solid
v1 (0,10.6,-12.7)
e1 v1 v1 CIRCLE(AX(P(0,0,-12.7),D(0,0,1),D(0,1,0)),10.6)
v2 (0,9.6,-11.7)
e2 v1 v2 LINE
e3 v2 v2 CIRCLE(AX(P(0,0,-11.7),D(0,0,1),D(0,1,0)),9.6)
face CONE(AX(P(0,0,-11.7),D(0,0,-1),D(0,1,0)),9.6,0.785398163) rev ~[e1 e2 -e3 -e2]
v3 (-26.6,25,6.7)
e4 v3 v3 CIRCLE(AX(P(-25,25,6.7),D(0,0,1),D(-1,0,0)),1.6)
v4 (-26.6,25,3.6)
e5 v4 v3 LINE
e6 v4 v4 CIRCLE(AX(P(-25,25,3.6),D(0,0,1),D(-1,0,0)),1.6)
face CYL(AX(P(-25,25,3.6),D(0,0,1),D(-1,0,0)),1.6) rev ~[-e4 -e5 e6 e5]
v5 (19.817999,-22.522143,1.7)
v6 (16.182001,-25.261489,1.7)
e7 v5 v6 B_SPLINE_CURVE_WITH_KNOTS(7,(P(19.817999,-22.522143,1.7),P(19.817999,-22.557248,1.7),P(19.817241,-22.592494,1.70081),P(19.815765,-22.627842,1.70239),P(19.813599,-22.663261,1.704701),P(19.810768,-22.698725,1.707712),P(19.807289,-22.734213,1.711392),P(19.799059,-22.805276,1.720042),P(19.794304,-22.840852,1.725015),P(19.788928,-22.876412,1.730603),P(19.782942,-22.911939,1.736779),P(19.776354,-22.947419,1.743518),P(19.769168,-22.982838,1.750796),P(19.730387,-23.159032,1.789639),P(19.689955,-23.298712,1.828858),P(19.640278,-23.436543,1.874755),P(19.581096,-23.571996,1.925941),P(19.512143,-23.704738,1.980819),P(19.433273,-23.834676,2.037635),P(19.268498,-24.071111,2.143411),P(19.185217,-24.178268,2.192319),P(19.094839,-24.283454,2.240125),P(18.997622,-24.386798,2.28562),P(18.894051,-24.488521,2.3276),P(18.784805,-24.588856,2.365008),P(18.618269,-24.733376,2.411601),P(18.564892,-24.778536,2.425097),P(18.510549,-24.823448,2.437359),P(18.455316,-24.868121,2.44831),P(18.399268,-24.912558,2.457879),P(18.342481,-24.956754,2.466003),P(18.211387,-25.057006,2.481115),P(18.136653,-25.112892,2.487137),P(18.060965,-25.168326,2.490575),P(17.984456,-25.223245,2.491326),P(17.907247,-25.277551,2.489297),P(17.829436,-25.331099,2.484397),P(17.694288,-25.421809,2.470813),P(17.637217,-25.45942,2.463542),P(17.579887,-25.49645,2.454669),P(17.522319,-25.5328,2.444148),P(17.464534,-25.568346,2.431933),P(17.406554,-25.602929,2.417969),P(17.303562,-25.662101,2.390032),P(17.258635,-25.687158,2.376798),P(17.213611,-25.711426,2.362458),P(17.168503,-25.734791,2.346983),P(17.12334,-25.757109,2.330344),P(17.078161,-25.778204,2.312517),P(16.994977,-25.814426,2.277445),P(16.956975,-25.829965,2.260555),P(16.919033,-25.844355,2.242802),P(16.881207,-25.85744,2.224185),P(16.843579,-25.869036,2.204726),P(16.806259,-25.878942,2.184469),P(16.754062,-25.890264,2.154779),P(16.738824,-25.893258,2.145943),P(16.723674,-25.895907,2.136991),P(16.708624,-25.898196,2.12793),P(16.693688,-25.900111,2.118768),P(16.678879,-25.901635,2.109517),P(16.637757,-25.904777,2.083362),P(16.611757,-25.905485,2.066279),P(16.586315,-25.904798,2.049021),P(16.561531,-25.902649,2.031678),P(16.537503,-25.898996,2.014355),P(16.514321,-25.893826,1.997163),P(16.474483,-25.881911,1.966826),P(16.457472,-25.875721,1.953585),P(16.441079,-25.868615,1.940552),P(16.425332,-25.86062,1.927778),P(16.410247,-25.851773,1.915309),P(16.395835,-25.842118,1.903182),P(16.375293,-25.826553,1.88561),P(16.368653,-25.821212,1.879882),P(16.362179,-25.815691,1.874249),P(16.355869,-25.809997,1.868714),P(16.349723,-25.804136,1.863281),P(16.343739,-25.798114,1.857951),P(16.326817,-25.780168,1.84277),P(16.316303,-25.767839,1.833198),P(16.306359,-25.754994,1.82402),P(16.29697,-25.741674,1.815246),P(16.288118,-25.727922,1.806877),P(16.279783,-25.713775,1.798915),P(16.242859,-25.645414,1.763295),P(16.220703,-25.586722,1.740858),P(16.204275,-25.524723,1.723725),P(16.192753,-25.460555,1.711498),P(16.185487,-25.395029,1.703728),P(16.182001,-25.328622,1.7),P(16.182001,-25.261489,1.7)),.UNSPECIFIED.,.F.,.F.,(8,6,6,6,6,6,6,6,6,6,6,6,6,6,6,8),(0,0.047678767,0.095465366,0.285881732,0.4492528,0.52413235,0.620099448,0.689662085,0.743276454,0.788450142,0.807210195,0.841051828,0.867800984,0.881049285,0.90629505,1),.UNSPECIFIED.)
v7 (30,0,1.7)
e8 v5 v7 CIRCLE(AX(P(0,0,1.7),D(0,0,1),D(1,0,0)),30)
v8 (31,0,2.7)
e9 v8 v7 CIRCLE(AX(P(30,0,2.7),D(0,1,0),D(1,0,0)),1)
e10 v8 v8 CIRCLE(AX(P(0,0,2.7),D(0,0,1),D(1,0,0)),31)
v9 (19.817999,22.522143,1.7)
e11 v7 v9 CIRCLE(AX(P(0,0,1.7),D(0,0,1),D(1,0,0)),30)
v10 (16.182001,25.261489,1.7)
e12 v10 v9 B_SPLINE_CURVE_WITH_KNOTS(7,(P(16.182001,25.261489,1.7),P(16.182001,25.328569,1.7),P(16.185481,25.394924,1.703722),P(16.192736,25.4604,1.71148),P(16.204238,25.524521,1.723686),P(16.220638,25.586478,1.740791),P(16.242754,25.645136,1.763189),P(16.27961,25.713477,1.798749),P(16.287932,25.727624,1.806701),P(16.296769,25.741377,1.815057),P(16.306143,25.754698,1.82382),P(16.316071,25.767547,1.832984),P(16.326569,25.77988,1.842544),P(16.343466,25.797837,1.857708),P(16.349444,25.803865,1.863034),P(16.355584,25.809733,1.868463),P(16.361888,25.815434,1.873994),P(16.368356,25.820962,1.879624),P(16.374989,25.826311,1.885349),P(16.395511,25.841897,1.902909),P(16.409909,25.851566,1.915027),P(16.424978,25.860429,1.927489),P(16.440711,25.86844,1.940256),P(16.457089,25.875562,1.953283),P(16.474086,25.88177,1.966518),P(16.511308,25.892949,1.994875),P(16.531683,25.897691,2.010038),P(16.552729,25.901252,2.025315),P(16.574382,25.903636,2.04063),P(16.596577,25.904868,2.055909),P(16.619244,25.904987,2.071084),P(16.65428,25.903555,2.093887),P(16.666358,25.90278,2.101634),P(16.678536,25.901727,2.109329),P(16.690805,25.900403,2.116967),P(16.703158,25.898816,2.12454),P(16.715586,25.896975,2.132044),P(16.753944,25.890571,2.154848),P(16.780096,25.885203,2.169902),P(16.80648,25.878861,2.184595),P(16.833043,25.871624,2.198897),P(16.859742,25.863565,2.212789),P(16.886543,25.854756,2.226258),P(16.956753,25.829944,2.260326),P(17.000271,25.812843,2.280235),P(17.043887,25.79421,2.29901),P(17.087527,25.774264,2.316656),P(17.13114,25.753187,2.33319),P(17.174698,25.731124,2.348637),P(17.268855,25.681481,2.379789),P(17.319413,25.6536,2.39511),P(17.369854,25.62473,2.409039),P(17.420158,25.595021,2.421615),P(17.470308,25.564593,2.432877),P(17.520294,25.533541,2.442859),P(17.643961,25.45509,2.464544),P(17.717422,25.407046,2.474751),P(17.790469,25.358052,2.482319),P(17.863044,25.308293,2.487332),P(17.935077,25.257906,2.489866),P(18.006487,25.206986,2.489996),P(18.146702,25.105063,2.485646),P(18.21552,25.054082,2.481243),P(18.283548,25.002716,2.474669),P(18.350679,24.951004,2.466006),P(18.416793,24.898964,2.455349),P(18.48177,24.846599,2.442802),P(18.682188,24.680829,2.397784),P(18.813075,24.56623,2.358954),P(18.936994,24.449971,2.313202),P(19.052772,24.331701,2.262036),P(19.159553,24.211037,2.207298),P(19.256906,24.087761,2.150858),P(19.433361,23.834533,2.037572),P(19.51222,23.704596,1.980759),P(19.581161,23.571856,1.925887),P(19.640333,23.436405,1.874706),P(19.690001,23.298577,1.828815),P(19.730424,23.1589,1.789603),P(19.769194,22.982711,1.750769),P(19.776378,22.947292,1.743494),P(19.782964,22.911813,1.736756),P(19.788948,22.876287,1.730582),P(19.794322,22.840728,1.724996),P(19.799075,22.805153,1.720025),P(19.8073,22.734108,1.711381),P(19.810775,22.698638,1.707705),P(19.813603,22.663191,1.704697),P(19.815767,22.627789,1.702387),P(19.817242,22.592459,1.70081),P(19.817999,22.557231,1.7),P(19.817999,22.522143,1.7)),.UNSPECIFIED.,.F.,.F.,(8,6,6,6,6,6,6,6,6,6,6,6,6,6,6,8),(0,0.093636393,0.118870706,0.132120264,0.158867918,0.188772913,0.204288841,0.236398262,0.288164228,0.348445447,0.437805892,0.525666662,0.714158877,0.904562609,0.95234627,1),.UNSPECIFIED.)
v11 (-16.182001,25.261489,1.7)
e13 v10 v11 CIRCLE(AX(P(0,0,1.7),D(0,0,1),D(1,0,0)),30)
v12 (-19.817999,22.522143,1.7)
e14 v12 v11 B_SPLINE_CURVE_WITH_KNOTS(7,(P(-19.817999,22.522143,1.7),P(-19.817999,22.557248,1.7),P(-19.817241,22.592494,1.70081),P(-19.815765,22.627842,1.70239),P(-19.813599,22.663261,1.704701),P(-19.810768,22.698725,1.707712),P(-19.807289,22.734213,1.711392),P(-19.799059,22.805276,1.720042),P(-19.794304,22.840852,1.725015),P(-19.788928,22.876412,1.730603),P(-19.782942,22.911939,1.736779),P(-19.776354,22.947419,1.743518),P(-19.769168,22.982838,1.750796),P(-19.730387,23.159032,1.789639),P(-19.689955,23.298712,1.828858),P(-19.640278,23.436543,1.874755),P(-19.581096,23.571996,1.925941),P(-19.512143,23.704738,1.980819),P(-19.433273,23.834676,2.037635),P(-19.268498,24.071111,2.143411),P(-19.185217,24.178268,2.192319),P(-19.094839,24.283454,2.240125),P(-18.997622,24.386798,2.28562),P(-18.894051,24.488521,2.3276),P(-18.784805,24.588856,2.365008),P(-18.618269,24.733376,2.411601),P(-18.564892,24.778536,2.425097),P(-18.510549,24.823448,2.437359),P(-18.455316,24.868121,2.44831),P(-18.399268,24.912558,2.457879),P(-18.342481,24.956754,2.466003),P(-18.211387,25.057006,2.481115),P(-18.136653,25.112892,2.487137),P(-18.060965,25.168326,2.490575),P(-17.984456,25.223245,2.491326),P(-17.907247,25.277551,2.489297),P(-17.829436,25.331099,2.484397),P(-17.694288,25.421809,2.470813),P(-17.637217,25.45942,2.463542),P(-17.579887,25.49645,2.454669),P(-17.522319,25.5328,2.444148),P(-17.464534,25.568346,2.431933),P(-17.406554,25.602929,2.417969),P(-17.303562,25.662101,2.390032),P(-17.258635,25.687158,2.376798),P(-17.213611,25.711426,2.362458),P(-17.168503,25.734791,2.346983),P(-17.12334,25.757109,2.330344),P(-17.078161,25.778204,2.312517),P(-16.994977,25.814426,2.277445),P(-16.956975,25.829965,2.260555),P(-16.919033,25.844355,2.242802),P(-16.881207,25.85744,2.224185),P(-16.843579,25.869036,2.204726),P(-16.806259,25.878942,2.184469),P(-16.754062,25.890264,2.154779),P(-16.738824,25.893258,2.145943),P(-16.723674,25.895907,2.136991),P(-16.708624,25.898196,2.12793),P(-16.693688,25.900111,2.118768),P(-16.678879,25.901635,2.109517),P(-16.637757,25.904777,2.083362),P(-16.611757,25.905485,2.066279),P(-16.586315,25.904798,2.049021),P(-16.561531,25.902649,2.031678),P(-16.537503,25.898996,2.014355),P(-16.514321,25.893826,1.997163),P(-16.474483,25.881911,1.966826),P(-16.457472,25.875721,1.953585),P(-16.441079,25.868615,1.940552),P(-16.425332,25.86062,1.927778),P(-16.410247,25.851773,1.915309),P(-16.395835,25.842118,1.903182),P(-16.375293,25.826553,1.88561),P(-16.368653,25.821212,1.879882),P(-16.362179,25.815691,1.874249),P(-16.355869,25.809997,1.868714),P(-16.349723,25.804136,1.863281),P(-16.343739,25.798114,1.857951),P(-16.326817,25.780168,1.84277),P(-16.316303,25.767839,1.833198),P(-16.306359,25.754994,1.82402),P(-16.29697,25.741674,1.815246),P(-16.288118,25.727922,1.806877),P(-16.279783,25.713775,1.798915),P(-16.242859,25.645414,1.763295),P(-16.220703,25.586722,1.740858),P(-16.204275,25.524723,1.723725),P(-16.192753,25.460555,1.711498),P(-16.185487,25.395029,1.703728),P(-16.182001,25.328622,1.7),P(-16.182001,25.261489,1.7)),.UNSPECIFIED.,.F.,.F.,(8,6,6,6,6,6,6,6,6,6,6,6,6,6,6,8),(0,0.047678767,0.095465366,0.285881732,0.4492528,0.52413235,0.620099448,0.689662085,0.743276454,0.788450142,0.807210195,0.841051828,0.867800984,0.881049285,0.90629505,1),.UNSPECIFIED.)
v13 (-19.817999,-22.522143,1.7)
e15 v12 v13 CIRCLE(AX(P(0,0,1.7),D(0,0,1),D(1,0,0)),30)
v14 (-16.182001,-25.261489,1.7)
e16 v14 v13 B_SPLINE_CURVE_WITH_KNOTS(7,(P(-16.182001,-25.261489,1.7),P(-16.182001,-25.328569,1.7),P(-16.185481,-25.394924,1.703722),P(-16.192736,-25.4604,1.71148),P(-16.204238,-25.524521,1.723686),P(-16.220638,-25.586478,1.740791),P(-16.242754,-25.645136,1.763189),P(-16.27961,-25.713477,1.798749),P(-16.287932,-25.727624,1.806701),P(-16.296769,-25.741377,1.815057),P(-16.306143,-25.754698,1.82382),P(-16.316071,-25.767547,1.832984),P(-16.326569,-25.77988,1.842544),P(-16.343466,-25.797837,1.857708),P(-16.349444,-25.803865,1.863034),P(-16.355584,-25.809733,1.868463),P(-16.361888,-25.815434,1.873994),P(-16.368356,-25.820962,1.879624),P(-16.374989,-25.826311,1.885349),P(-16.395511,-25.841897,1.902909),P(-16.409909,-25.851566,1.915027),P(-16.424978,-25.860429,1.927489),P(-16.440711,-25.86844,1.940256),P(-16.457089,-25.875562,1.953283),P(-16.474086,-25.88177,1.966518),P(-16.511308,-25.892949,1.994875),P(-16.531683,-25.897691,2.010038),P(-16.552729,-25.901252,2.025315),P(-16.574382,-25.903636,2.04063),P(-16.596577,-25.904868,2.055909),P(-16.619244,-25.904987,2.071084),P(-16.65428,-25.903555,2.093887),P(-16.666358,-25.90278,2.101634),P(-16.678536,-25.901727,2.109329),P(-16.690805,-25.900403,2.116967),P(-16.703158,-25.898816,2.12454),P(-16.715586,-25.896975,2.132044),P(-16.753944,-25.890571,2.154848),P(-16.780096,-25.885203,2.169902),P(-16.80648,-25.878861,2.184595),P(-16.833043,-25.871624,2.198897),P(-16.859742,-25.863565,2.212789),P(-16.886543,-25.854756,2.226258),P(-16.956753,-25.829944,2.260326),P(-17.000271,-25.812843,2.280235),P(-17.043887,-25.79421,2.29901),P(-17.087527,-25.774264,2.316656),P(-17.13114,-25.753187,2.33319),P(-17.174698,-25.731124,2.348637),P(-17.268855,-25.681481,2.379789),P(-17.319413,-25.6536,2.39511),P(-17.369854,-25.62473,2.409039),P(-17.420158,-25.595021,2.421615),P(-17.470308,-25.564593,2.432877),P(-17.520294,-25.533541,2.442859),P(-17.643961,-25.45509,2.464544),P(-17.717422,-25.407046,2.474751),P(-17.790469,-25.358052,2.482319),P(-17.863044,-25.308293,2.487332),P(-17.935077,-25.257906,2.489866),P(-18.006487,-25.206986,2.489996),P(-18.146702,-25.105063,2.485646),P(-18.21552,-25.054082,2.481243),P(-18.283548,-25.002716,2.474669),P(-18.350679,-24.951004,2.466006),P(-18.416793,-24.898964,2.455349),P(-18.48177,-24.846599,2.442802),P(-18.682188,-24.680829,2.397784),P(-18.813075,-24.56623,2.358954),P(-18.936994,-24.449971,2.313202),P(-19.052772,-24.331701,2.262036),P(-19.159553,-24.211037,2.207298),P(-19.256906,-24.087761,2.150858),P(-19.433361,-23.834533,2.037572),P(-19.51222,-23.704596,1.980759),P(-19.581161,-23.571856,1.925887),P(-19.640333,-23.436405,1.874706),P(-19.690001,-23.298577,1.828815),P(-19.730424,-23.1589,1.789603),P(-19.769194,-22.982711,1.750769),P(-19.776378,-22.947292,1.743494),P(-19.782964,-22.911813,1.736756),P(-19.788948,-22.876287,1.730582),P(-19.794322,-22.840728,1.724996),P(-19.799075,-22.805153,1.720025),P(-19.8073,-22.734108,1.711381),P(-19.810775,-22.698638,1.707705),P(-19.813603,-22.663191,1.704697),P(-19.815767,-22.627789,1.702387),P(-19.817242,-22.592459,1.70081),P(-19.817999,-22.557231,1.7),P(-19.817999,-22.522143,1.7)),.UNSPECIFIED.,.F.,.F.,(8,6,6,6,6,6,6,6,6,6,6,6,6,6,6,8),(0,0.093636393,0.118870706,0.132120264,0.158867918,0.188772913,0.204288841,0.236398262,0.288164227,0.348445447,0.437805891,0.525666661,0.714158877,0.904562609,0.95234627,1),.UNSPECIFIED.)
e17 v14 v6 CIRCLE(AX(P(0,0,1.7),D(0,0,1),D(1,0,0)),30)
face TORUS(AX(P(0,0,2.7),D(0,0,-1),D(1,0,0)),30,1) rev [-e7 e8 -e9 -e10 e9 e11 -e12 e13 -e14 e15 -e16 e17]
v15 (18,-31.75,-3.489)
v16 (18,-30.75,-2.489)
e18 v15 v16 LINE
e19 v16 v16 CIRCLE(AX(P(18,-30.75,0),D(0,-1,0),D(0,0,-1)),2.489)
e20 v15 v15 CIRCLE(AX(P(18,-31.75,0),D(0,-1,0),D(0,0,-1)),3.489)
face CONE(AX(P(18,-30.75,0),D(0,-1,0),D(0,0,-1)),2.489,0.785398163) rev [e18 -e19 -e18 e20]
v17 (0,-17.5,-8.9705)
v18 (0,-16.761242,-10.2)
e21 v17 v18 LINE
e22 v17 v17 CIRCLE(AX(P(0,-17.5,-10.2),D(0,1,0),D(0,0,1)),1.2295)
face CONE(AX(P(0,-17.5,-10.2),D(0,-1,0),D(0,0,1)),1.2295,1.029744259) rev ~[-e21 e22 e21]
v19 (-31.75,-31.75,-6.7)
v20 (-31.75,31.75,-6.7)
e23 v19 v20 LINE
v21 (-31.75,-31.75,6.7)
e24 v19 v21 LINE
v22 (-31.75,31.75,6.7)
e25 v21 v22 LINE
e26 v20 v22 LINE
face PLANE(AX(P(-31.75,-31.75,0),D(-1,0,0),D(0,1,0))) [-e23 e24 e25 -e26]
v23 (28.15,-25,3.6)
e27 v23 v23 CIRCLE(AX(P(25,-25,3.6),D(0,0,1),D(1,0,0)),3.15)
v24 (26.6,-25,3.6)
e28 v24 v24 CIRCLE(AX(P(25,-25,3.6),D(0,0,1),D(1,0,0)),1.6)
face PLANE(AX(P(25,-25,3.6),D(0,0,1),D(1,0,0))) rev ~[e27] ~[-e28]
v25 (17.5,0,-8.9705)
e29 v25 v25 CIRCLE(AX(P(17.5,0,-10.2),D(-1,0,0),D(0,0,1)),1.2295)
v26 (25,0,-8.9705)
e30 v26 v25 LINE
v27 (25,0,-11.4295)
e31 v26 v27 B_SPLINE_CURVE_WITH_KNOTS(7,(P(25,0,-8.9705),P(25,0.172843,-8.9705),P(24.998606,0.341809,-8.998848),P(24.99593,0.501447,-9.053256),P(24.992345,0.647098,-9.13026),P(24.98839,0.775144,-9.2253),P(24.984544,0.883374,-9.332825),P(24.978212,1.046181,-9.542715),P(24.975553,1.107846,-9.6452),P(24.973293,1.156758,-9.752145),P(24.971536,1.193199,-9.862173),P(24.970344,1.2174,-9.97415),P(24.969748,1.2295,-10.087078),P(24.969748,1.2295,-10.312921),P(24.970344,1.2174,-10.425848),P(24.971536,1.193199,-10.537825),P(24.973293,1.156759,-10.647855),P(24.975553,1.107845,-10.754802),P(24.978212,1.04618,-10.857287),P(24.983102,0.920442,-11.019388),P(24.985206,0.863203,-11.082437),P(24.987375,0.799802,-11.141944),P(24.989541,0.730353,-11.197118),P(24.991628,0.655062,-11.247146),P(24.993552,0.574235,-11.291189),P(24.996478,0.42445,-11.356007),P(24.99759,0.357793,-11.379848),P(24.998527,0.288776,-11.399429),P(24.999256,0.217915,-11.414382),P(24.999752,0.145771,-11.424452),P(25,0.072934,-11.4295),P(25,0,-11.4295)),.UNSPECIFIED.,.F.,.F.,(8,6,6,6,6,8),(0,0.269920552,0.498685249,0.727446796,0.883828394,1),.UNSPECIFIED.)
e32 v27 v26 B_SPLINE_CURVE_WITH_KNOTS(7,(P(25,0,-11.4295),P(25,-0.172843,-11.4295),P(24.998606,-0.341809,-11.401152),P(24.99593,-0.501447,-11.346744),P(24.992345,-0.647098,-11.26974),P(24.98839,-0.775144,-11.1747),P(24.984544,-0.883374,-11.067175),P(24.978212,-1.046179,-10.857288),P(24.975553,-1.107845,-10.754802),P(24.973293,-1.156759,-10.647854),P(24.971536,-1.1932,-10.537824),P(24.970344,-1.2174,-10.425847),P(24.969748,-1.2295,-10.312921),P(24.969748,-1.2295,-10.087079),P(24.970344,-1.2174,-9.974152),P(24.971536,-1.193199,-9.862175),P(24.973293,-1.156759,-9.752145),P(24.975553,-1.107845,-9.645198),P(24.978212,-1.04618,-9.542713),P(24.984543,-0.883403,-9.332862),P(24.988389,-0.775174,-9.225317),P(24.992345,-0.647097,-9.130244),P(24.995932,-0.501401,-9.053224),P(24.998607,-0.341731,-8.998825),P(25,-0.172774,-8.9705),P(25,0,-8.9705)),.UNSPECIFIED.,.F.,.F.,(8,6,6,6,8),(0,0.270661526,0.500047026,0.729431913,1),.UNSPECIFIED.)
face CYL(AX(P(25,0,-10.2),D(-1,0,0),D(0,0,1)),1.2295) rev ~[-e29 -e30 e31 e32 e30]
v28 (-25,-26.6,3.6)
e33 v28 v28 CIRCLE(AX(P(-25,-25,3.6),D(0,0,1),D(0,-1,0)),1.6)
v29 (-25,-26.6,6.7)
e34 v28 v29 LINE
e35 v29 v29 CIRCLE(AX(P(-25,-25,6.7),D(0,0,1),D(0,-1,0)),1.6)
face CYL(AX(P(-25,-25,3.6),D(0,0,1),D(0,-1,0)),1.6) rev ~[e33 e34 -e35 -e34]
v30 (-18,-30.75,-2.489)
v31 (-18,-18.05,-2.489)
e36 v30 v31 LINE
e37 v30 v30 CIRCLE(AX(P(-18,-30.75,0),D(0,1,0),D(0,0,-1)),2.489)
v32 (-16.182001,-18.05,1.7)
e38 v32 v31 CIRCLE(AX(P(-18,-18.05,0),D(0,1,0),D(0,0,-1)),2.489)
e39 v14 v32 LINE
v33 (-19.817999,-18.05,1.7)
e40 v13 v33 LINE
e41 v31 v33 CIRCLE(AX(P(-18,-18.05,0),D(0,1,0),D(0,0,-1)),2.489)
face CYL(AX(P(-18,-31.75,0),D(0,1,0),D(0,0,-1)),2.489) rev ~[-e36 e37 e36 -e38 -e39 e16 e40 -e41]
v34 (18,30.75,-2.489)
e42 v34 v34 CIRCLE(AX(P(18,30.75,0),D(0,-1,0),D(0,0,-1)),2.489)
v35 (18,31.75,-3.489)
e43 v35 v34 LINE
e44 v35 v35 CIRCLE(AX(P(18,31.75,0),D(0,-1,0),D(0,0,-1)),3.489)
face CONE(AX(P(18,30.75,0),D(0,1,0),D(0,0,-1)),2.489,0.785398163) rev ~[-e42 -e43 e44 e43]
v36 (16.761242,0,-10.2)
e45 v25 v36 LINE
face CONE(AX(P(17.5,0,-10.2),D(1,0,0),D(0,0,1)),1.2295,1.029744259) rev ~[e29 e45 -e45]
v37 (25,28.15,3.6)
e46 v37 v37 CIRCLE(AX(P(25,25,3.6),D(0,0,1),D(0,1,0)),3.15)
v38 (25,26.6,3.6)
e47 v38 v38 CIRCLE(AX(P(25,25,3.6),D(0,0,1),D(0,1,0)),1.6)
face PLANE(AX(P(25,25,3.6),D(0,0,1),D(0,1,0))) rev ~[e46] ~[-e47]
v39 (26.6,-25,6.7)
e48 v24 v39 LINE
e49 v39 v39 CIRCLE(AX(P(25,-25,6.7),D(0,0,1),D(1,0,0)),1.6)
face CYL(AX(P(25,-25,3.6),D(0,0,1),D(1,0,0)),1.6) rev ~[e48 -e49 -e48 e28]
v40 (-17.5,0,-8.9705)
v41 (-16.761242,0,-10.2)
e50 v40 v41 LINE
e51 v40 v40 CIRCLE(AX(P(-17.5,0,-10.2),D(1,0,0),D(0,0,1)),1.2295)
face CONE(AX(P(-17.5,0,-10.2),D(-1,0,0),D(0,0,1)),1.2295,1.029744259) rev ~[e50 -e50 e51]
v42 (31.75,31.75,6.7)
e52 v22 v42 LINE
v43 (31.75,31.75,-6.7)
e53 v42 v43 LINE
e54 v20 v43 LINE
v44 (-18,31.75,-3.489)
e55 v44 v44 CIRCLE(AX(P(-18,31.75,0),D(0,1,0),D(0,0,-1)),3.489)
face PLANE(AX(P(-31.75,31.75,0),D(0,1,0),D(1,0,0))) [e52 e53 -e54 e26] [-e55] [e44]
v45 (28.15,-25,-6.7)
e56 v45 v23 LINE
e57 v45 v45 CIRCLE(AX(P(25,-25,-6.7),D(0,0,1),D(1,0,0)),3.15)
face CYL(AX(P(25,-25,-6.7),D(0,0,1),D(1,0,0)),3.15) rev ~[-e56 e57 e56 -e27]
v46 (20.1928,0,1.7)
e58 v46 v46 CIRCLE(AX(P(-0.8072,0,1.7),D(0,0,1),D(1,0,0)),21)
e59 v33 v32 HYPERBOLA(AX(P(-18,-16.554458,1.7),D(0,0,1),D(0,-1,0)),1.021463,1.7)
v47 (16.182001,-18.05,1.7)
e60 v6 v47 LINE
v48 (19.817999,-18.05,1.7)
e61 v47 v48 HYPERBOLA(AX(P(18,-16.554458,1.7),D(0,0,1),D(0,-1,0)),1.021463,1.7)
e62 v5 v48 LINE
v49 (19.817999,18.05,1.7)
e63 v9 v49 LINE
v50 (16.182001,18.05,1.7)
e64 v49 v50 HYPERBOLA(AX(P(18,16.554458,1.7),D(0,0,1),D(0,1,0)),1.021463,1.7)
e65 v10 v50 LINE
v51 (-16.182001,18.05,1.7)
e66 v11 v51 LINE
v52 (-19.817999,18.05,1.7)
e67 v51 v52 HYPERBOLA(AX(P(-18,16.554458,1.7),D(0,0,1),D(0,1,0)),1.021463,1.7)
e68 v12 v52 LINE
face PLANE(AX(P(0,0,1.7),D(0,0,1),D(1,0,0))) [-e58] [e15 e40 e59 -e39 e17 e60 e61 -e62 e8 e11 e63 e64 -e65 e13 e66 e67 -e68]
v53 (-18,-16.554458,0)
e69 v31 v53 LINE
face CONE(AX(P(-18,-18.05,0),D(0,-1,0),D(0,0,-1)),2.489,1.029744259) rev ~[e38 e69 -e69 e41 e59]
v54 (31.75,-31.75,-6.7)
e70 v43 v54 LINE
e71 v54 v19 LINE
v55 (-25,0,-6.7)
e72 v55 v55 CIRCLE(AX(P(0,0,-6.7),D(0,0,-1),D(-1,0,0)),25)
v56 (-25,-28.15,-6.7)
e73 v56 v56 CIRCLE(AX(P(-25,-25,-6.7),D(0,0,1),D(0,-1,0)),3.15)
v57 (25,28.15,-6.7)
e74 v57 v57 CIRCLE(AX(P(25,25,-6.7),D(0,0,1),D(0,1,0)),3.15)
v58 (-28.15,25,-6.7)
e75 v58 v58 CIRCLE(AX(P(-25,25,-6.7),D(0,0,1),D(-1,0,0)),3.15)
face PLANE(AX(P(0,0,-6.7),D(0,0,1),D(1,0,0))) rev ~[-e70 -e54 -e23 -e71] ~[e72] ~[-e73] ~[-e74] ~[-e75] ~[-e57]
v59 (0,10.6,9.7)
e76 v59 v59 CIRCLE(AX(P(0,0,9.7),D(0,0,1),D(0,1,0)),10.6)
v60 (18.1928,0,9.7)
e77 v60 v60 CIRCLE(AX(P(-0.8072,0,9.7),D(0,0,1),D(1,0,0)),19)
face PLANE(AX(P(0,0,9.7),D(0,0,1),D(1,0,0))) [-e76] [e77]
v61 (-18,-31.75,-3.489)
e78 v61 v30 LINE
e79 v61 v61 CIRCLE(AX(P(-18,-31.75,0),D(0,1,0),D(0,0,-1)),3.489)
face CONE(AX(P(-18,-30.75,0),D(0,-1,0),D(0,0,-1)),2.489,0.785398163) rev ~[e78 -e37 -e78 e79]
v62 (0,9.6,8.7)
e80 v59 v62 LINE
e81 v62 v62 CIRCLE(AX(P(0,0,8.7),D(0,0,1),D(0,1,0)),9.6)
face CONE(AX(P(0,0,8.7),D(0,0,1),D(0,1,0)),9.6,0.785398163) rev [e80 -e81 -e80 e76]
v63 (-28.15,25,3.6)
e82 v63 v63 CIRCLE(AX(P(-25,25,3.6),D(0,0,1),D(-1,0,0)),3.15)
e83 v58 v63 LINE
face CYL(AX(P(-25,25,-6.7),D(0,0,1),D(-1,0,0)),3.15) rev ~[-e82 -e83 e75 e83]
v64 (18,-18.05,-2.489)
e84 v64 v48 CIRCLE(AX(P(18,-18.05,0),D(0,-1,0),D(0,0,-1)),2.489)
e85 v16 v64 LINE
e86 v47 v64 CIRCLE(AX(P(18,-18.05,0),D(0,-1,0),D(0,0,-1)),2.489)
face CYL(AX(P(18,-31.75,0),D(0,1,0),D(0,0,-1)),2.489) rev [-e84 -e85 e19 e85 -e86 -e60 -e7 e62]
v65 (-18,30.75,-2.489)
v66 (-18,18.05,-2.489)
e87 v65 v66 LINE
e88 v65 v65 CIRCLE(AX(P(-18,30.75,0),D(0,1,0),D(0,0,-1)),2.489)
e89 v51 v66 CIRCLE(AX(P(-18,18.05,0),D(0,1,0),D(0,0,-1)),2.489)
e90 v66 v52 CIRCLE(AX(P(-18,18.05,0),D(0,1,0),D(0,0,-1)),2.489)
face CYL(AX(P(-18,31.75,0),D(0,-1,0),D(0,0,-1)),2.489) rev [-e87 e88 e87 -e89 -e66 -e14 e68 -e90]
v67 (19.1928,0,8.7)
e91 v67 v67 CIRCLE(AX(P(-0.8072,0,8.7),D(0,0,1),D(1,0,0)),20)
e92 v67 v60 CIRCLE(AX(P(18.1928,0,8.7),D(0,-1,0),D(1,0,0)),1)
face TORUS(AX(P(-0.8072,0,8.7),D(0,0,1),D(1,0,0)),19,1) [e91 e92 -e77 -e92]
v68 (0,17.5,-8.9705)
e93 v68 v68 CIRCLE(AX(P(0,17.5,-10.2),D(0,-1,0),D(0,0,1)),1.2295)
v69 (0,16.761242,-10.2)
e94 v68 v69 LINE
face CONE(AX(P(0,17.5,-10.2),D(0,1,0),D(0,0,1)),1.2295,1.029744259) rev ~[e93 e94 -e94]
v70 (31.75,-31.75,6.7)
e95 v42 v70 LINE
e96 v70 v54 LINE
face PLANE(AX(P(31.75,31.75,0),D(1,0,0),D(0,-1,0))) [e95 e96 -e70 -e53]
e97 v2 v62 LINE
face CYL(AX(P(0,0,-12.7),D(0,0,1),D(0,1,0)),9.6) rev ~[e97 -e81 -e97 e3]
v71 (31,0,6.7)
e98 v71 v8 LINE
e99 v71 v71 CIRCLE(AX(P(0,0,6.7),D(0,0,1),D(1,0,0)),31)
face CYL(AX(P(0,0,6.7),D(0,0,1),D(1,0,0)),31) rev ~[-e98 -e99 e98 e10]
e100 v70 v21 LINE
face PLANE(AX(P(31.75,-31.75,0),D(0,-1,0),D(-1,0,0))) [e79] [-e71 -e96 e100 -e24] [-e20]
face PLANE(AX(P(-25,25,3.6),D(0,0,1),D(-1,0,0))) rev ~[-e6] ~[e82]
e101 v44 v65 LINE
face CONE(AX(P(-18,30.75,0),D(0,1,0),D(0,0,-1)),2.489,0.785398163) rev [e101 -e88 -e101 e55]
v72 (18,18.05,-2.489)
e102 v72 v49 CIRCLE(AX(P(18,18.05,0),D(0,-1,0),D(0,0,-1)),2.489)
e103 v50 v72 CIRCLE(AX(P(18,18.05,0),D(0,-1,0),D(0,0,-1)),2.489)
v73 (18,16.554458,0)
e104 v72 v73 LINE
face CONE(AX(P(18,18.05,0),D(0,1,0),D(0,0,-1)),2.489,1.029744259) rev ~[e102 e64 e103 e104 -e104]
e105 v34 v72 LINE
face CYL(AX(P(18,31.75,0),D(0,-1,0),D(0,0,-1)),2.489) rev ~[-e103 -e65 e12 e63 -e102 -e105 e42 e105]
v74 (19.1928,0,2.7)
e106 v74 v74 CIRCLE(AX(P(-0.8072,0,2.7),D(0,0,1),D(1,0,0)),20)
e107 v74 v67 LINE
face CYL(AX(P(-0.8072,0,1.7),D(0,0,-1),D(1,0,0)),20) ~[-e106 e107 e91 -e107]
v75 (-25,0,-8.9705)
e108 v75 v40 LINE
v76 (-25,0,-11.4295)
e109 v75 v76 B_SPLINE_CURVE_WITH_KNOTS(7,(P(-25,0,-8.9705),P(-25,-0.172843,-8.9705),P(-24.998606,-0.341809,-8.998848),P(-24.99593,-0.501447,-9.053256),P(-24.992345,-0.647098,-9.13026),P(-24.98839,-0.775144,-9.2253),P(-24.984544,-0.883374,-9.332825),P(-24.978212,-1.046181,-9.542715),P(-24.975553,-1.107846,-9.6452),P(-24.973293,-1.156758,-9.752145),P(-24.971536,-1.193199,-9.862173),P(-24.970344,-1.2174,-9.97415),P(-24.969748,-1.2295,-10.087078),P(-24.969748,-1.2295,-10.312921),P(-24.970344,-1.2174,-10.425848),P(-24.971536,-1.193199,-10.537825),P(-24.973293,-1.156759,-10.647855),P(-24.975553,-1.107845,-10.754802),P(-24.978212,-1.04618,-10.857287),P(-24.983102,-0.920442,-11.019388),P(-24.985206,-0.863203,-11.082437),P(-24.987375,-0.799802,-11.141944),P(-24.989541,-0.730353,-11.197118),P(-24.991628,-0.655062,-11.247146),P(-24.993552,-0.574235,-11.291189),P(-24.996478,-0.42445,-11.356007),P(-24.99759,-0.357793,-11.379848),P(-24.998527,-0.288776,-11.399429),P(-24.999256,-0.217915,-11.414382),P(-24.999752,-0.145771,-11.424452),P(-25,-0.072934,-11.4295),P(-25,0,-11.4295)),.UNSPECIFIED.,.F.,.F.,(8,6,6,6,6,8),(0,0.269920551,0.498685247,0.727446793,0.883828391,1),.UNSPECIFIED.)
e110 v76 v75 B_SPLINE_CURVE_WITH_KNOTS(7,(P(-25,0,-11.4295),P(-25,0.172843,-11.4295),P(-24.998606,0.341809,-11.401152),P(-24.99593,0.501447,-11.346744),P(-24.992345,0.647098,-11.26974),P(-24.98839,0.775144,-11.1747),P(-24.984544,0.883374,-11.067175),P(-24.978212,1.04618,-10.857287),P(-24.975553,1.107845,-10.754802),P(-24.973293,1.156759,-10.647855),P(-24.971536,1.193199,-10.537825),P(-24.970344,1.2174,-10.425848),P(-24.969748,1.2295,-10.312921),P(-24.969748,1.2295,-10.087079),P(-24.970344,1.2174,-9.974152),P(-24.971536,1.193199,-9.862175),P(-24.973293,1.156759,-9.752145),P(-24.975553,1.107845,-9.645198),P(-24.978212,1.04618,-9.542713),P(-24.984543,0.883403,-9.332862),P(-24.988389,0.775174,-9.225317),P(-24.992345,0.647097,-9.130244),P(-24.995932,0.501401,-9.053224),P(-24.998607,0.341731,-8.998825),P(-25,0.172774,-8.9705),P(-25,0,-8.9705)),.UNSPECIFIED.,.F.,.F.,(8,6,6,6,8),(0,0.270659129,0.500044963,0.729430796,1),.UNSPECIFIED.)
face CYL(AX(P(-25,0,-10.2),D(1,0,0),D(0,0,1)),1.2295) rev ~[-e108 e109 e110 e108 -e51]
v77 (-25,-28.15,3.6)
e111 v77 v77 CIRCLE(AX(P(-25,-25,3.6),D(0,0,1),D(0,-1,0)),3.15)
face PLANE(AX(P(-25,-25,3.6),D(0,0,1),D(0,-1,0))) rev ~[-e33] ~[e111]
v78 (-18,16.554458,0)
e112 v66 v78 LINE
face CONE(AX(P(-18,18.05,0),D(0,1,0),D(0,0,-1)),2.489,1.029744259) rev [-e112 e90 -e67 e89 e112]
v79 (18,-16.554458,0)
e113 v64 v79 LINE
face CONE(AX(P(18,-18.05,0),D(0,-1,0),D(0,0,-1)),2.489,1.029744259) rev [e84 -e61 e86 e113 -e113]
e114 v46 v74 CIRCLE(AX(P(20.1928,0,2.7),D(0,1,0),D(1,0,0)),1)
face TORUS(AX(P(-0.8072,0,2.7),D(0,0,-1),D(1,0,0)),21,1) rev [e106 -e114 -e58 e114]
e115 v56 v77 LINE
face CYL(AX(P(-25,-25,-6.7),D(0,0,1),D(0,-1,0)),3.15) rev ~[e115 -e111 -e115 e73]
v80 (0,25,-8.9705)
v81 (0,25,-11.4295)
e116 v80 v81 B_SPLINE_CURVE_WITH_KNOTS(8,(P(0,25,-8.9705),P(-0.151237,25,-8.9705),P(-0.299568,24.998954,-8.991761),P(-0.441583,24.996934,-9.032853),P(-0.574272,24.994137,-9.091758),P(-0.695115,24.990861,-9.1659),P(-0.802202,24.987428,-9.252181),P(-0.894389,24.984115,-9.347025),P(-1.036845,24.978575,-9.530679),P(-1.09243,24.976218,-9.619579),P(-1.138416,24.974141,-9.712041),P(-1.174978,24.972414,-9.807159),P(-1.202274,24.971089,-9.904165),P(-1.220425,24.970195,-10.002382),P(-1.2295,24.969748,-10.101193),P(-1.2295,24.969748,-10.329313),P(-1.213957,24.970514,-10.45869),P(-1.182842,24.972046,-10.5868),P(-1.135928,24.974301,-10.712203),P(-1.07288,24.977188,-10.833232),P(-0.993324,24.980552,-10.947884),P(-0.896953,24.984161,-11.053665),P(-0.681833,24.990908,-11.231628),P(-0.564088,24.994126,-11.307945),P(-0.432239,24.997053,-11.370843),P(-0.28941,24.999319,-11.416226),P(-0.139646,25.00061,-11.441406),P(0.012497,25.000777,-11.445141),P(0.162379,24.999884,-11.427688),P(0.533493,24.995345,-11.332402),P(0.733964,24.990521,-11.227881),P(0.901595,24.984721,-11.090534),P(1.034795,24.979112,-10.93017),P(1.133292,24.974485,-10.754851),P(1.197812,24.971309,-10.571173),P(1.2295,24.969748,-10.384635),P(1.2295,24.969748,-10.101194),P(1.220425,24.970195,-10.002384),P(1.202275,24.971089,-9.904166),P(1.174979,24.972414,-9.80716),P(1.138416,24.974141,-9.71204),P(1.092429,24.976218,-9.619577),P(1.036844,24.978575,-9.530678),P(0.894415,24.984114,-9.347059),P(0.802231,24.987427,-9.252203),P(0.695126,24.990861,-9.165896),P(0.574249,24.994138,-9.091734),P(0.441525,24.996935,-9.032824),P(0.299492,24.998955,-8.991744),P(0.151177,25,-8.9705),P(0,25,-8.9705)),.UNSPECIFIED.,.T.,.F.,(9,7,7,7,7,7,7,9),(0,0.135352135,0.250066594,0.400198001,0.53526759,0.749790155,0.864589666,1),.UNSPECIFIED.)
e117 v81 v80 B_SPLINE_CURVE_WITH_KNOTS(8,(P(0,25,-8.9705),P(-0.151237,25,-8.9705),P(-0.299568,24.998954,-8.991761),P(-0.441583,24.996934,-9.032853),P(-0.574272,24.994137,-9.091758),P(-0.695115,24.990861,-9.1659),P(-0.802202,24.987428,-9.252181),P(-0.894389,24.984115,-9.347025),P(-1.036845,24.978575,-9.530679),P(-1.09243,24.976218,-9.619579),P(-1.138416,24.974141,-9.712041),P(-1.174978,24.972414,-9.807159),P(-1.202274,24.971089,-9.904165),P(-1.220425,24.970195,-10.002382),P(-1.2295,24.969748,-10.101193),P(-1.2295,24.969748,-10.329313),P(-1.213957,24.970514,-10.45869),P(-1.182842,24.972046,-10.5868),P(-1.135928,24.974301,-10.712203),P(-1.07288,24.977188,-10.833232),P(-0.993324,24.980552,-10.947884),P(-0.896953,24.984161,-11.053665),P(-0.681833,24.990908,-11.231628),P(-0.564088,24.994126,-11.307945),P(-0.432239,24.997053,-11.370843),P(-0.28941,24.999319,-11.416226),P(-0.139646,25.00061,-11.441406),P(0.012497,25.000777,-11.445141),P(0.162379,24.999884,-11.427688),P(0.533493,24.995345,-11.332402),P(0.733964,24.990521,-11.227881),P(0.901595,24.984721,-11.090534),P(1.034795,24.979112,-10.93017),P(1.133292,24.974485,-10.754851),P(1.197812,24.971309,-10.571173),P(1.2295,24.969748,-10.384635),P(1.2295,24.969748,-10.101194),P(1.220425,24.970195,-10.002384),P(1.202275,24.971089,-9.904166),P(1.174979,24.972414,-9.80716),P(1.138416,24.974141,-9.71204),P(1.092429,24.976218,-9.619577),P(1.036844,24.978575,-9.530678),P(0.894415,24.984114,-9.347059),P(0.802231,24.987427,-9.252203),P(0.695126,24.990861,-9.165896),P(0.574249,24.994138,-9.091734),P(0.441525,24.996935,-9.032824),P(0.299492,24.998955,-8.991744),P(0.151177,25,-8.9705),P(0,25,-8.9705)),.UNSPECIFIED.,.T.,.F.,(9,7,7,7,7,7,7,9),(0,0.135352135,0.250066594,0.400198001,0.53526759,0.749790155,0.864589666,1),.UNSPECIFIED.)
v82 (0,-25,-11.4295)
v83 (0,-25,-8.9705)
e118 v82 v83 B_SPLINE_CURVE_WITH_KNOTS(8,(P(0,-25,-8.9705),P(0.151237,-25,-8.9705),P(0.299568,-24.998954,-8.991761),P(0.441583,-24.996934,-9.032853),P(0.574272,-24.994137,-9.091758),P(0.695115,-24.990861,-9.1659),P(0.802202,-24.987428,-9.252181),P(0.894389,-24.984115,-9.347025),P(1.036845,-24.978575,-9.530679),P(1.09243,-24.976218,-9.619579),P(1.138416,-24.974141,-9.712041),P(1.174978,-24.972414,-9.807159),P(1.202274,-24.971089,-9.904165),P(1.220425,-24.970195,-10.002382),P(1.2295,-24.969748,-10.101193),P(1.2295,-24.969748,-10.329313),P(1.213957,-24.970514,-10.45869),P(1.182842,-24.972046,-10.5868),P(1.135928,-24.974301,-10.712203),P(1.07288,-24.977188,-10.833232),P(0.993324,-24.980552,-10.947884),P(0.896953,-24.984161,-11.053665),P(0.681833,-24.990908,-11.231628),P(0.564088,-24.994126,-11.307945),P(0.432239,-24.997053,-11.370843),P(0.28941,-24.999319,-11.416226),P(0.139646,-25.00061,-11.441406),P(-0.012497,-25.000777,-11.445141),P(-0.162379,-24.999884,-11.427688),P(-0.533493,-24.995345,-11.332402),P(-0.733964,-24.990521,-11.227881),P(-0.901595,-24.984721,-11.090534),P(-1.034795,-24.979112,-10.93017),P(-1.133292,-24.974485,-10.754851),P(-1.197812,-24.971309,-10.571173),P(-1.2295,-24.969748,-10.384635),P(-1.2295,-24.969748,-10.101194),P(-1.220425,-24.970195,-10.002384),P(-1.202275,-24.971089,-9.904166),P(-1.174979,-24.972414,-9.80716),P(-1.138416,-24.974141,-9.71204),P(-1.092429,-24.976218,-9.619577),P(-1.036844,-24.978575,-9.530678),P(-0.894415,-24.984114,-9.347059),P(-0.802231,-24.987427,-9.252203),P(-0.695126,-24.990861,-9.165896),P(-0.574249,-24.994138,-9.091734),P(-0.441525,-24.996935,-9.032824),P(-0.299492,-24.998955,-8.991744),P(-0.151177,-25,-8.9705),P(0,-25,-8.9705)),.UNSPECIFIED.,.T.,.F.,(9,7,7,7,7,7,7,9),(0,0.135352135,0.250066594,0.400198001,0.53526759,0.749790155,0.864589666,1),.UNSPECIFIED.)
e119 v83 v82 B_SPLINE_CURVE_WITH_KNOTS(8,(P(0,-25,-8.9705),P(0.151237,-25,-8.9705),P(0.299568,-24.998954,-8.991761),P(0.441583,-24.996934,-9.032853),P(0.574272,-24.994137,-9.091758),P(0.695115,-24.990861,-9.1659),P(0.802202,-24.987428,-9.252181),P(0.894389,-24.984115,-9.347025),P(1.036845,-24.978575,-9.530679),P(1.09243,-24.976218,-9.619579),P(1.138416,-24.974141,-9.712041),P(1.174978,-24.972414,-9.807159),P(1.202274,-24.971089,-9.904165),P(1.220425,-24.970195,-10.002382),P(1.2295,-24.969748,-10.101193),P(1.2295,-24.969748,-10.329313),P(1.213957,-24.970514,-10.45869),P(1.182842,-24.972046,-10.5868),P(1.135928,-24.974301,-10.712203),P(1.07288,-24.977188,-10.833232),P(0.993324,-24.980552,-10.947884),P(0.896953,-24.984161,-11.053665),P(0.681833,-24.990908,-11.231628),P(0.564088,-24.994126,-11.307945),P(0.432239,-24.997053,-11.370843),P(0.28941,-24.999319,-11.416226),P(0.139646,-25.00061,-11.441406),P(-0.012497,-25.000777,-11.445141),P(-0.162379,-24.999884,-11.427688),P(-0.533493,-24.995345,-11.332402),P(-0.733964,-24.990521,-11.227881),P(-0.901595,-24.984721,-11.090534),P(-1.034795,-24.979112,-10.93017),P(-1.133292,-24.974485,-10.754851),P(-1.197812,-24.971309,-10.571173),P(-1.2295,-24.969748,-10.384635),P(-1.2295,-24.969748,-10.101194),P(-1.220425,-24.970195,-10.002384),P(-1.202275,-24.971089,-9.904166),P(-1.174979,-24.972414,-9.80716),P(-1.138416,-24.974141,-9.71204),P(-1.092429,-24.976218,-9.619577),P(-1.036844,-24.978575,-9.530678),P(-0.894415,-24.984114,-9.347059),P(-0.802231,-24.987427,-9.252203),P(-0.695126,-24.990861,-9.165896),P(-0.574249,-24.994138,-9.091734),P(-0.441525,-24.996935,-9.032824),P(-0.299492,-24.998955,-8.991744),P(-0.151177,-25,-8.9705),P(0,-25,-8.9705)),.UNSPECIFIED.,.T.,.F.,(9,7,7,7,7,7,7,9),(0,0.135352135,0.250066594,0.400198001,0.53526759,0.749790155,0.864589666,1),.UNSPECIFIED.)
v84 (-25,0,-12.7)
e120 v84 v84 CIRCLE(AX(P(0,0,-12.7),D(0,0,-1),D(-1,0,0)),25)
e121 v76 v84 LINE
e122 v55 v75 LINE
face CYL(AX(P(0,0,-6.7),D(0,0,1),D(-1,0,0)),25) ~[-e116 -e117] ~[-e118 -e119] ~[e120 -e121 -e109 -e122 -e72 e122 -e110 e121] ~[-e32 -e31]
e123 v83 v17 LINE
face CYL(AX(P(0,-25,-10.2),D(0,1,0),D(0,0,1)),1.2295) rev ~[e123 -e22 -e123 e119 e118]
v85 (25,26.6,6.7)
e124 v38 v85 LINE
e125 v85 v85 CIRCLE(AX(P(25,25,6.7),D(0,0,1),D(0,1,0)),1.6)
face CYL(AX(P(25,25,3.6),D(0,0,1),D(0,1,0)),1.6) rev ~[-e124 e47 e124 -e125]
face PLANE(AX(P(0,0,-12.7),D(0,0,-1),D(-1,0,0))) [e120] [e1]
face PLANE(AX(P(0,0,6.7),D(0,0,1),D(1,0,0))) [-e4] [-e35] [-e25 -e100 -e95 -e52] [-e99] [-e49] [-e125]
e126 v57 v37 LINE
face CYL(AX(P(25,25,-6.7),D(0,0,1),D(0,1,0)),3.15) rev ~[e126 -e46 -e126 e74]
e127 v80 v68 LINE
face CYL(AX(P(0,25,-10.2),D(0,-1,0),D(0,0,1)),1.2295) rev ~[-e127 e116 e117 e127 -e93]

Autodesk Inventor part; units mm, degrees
ref_plane "YZ Plane" through (0, 0, 0) normal (1, 0, 0) x (0, 1, 0)
ref_plane "XZ Plane" through (0, 0, 0) normal (0, 1, 0) x (-1, 0, 0)
sketch "Sketch1" plane through (0, 0, 0) normal (0, 0, 1) x (1, 0, 0)
  line L0 (-31.75, 31.75) -> (31.75, 31.75)
  line L1 (31.75, 31.75) -> (31.75, -31.75)
  line L2 (31.75, -31.75) -> (-31.75, -31.75)
  line L3 (-31.75, -31.75) -> (-31.75, 31.75)
  line L4 (0, 0) -> (0, 31.75) construction
  line L5 (0, 0) -> (0, -31.75) construction
  line L6 (0, 0) -> (31.75, 0) construction
  line L7 (0, 0) -> (-31.75, 0) construction
  dimension "d0" = 63.5
  dimension "d1" = 63.5
extrude "Extrusion1" add sketch "Sketch1" along normal mid plane 13.4
sketch "Sketch2" plane through (0, 0, 6.7) normal (0, 0, 1) x (1, 0, 0)
  circle A0 centre (0, 0) radius 31
  dimension "d4" = 62
extrude "Extrusion2" cut sketch "Sketch2" against normal blind 5
sketch "Sketch3" plane through (0, 0, 1.7) normal (0, 0, 1) x (1, 0, 0)
  circle A0 centre (-0.8072, 0) radius 20
  dimension "d7" = 40
extrude "Extrusion3" add sketch "Sketch3" along normal blind 8
fillet "Fillet1" radius 1 3 edges at (-20.8072, 0, 1.7) (-20.8072, 0, 9.7) (-31, 0, 1.7)
sketch "Sketch6" plane through (0, 0, -6.7) normal (0, 0, -1) x (-1, 0, 0)
  circle A0 centre (0, 0) radius 25
  dimension "d13" = 50
extrude "Extrusion4" add sketch "Sketch6" along normal blind 6
sketch "Sketch7" plane through (0, 0, -6.7) normal (0, 0, -1) x (-1, 0, 0)
  circle A0 centre (0, 0) radius 25 projected
  point P0 (-25, 25)
  dimension "d16" = 25
  dimension "d17" = 25
hole "Hole1" at (25, 25, -6.7) direction (0, 0, 1) diameter 3.2 end through all counterbore diameter 6.3 counterbore depth 10.3
pattern_circular "Circular Pattern1" count 4 over 360 about axis through (0, 0, -6.7) along (0, 0, -1) of "Hole1"
sketch "Sketch8" plane through (0, 0, -12.7) normal (0, 0, -1) x (-1, 0, 0)
  circle A0 centre (0, 0) radius 25 projected
hole "Hole2" at (0, 0, -12.7) direction (0, 0, 1) diameter 19.2 end through all
chamfer "Chamfer1" distance 1 angle 45 2 edges at (0, -9.6, 9.7) (0, -9.6, -12.7)
sketch "Sketch9" plane through (-31.75, -31.75, 6.7) normal (0, -1, 0) x (1, 0, 0)
  line L0 (63.5, 0) -> (0, 0) projected
  line L1 (0, 0) -> (0, -13.4) projected
  line L2 (0, -13.4) -> (63.5, -13.4) projected
  line L3 (63.5, 0) -> (63.5, -13.4) projected
  line L4 (0, -6.7) -> (63.5, -6.7) construction
  line L5 (31.75, 0) -> (31.75, -13.4) construction
  point P0 (13.75, -6.7)
  dimension "d37" = 18
hole "Hole3" at (-18, -31.75, 0) direction (0, 1, 0) diameter 4.978 depth 13.7 tip angle 118 thread size "1/4-20 UNC" class "1B" standard "ANSI Unified Screw Threads"
mirror "Mirror1" about plane through (0, 0, 0) normal (1, 0, 0) of "Hole3"
mirror "Mirror2" about plane through (0, 0, 0) normal (0, 1, 0) of "Hole3", "Mirror1"
chamfer "Chamfer2" distance 1 angle 45 4 edges at (-18, -31.75, 2.489) (18, -31.75, 2.489) (-18, 31.75, 2.489) (18, 31.75, 2.489)
ref_plane "Work Plane1" through (0, 25, 0) normal (0, 1, 0) x (-1, 0, 0)
sketch "Sketch10" plane through (0, 25, 0) normal (0, 1, 0) x (-1, 0, 0)
  line L0 (-31.75, -6.7) -> (31.75, -6.7) projected
  line L1 (0, -6.7) -> (0, -22.9157) construction
  point P0 (0, -10.2)
  dimension "d48" = 3.5
hole "Hole4" at (0, 25, -10.2) direction (0, -1, 0) diameter 2.459 depth 7.5 tip angle 118 thread size "M3x0.5" class "6H" standard "ANSI Metric M Profile"
pattern_circular "Circular Pattern2" count 4 over 360 about axis through (0, 0, 79.8541) along (0, 0, -1) of "Hole4"
properties part number "BB2-BackPlate" material "Aluminum-6061-AHC"
